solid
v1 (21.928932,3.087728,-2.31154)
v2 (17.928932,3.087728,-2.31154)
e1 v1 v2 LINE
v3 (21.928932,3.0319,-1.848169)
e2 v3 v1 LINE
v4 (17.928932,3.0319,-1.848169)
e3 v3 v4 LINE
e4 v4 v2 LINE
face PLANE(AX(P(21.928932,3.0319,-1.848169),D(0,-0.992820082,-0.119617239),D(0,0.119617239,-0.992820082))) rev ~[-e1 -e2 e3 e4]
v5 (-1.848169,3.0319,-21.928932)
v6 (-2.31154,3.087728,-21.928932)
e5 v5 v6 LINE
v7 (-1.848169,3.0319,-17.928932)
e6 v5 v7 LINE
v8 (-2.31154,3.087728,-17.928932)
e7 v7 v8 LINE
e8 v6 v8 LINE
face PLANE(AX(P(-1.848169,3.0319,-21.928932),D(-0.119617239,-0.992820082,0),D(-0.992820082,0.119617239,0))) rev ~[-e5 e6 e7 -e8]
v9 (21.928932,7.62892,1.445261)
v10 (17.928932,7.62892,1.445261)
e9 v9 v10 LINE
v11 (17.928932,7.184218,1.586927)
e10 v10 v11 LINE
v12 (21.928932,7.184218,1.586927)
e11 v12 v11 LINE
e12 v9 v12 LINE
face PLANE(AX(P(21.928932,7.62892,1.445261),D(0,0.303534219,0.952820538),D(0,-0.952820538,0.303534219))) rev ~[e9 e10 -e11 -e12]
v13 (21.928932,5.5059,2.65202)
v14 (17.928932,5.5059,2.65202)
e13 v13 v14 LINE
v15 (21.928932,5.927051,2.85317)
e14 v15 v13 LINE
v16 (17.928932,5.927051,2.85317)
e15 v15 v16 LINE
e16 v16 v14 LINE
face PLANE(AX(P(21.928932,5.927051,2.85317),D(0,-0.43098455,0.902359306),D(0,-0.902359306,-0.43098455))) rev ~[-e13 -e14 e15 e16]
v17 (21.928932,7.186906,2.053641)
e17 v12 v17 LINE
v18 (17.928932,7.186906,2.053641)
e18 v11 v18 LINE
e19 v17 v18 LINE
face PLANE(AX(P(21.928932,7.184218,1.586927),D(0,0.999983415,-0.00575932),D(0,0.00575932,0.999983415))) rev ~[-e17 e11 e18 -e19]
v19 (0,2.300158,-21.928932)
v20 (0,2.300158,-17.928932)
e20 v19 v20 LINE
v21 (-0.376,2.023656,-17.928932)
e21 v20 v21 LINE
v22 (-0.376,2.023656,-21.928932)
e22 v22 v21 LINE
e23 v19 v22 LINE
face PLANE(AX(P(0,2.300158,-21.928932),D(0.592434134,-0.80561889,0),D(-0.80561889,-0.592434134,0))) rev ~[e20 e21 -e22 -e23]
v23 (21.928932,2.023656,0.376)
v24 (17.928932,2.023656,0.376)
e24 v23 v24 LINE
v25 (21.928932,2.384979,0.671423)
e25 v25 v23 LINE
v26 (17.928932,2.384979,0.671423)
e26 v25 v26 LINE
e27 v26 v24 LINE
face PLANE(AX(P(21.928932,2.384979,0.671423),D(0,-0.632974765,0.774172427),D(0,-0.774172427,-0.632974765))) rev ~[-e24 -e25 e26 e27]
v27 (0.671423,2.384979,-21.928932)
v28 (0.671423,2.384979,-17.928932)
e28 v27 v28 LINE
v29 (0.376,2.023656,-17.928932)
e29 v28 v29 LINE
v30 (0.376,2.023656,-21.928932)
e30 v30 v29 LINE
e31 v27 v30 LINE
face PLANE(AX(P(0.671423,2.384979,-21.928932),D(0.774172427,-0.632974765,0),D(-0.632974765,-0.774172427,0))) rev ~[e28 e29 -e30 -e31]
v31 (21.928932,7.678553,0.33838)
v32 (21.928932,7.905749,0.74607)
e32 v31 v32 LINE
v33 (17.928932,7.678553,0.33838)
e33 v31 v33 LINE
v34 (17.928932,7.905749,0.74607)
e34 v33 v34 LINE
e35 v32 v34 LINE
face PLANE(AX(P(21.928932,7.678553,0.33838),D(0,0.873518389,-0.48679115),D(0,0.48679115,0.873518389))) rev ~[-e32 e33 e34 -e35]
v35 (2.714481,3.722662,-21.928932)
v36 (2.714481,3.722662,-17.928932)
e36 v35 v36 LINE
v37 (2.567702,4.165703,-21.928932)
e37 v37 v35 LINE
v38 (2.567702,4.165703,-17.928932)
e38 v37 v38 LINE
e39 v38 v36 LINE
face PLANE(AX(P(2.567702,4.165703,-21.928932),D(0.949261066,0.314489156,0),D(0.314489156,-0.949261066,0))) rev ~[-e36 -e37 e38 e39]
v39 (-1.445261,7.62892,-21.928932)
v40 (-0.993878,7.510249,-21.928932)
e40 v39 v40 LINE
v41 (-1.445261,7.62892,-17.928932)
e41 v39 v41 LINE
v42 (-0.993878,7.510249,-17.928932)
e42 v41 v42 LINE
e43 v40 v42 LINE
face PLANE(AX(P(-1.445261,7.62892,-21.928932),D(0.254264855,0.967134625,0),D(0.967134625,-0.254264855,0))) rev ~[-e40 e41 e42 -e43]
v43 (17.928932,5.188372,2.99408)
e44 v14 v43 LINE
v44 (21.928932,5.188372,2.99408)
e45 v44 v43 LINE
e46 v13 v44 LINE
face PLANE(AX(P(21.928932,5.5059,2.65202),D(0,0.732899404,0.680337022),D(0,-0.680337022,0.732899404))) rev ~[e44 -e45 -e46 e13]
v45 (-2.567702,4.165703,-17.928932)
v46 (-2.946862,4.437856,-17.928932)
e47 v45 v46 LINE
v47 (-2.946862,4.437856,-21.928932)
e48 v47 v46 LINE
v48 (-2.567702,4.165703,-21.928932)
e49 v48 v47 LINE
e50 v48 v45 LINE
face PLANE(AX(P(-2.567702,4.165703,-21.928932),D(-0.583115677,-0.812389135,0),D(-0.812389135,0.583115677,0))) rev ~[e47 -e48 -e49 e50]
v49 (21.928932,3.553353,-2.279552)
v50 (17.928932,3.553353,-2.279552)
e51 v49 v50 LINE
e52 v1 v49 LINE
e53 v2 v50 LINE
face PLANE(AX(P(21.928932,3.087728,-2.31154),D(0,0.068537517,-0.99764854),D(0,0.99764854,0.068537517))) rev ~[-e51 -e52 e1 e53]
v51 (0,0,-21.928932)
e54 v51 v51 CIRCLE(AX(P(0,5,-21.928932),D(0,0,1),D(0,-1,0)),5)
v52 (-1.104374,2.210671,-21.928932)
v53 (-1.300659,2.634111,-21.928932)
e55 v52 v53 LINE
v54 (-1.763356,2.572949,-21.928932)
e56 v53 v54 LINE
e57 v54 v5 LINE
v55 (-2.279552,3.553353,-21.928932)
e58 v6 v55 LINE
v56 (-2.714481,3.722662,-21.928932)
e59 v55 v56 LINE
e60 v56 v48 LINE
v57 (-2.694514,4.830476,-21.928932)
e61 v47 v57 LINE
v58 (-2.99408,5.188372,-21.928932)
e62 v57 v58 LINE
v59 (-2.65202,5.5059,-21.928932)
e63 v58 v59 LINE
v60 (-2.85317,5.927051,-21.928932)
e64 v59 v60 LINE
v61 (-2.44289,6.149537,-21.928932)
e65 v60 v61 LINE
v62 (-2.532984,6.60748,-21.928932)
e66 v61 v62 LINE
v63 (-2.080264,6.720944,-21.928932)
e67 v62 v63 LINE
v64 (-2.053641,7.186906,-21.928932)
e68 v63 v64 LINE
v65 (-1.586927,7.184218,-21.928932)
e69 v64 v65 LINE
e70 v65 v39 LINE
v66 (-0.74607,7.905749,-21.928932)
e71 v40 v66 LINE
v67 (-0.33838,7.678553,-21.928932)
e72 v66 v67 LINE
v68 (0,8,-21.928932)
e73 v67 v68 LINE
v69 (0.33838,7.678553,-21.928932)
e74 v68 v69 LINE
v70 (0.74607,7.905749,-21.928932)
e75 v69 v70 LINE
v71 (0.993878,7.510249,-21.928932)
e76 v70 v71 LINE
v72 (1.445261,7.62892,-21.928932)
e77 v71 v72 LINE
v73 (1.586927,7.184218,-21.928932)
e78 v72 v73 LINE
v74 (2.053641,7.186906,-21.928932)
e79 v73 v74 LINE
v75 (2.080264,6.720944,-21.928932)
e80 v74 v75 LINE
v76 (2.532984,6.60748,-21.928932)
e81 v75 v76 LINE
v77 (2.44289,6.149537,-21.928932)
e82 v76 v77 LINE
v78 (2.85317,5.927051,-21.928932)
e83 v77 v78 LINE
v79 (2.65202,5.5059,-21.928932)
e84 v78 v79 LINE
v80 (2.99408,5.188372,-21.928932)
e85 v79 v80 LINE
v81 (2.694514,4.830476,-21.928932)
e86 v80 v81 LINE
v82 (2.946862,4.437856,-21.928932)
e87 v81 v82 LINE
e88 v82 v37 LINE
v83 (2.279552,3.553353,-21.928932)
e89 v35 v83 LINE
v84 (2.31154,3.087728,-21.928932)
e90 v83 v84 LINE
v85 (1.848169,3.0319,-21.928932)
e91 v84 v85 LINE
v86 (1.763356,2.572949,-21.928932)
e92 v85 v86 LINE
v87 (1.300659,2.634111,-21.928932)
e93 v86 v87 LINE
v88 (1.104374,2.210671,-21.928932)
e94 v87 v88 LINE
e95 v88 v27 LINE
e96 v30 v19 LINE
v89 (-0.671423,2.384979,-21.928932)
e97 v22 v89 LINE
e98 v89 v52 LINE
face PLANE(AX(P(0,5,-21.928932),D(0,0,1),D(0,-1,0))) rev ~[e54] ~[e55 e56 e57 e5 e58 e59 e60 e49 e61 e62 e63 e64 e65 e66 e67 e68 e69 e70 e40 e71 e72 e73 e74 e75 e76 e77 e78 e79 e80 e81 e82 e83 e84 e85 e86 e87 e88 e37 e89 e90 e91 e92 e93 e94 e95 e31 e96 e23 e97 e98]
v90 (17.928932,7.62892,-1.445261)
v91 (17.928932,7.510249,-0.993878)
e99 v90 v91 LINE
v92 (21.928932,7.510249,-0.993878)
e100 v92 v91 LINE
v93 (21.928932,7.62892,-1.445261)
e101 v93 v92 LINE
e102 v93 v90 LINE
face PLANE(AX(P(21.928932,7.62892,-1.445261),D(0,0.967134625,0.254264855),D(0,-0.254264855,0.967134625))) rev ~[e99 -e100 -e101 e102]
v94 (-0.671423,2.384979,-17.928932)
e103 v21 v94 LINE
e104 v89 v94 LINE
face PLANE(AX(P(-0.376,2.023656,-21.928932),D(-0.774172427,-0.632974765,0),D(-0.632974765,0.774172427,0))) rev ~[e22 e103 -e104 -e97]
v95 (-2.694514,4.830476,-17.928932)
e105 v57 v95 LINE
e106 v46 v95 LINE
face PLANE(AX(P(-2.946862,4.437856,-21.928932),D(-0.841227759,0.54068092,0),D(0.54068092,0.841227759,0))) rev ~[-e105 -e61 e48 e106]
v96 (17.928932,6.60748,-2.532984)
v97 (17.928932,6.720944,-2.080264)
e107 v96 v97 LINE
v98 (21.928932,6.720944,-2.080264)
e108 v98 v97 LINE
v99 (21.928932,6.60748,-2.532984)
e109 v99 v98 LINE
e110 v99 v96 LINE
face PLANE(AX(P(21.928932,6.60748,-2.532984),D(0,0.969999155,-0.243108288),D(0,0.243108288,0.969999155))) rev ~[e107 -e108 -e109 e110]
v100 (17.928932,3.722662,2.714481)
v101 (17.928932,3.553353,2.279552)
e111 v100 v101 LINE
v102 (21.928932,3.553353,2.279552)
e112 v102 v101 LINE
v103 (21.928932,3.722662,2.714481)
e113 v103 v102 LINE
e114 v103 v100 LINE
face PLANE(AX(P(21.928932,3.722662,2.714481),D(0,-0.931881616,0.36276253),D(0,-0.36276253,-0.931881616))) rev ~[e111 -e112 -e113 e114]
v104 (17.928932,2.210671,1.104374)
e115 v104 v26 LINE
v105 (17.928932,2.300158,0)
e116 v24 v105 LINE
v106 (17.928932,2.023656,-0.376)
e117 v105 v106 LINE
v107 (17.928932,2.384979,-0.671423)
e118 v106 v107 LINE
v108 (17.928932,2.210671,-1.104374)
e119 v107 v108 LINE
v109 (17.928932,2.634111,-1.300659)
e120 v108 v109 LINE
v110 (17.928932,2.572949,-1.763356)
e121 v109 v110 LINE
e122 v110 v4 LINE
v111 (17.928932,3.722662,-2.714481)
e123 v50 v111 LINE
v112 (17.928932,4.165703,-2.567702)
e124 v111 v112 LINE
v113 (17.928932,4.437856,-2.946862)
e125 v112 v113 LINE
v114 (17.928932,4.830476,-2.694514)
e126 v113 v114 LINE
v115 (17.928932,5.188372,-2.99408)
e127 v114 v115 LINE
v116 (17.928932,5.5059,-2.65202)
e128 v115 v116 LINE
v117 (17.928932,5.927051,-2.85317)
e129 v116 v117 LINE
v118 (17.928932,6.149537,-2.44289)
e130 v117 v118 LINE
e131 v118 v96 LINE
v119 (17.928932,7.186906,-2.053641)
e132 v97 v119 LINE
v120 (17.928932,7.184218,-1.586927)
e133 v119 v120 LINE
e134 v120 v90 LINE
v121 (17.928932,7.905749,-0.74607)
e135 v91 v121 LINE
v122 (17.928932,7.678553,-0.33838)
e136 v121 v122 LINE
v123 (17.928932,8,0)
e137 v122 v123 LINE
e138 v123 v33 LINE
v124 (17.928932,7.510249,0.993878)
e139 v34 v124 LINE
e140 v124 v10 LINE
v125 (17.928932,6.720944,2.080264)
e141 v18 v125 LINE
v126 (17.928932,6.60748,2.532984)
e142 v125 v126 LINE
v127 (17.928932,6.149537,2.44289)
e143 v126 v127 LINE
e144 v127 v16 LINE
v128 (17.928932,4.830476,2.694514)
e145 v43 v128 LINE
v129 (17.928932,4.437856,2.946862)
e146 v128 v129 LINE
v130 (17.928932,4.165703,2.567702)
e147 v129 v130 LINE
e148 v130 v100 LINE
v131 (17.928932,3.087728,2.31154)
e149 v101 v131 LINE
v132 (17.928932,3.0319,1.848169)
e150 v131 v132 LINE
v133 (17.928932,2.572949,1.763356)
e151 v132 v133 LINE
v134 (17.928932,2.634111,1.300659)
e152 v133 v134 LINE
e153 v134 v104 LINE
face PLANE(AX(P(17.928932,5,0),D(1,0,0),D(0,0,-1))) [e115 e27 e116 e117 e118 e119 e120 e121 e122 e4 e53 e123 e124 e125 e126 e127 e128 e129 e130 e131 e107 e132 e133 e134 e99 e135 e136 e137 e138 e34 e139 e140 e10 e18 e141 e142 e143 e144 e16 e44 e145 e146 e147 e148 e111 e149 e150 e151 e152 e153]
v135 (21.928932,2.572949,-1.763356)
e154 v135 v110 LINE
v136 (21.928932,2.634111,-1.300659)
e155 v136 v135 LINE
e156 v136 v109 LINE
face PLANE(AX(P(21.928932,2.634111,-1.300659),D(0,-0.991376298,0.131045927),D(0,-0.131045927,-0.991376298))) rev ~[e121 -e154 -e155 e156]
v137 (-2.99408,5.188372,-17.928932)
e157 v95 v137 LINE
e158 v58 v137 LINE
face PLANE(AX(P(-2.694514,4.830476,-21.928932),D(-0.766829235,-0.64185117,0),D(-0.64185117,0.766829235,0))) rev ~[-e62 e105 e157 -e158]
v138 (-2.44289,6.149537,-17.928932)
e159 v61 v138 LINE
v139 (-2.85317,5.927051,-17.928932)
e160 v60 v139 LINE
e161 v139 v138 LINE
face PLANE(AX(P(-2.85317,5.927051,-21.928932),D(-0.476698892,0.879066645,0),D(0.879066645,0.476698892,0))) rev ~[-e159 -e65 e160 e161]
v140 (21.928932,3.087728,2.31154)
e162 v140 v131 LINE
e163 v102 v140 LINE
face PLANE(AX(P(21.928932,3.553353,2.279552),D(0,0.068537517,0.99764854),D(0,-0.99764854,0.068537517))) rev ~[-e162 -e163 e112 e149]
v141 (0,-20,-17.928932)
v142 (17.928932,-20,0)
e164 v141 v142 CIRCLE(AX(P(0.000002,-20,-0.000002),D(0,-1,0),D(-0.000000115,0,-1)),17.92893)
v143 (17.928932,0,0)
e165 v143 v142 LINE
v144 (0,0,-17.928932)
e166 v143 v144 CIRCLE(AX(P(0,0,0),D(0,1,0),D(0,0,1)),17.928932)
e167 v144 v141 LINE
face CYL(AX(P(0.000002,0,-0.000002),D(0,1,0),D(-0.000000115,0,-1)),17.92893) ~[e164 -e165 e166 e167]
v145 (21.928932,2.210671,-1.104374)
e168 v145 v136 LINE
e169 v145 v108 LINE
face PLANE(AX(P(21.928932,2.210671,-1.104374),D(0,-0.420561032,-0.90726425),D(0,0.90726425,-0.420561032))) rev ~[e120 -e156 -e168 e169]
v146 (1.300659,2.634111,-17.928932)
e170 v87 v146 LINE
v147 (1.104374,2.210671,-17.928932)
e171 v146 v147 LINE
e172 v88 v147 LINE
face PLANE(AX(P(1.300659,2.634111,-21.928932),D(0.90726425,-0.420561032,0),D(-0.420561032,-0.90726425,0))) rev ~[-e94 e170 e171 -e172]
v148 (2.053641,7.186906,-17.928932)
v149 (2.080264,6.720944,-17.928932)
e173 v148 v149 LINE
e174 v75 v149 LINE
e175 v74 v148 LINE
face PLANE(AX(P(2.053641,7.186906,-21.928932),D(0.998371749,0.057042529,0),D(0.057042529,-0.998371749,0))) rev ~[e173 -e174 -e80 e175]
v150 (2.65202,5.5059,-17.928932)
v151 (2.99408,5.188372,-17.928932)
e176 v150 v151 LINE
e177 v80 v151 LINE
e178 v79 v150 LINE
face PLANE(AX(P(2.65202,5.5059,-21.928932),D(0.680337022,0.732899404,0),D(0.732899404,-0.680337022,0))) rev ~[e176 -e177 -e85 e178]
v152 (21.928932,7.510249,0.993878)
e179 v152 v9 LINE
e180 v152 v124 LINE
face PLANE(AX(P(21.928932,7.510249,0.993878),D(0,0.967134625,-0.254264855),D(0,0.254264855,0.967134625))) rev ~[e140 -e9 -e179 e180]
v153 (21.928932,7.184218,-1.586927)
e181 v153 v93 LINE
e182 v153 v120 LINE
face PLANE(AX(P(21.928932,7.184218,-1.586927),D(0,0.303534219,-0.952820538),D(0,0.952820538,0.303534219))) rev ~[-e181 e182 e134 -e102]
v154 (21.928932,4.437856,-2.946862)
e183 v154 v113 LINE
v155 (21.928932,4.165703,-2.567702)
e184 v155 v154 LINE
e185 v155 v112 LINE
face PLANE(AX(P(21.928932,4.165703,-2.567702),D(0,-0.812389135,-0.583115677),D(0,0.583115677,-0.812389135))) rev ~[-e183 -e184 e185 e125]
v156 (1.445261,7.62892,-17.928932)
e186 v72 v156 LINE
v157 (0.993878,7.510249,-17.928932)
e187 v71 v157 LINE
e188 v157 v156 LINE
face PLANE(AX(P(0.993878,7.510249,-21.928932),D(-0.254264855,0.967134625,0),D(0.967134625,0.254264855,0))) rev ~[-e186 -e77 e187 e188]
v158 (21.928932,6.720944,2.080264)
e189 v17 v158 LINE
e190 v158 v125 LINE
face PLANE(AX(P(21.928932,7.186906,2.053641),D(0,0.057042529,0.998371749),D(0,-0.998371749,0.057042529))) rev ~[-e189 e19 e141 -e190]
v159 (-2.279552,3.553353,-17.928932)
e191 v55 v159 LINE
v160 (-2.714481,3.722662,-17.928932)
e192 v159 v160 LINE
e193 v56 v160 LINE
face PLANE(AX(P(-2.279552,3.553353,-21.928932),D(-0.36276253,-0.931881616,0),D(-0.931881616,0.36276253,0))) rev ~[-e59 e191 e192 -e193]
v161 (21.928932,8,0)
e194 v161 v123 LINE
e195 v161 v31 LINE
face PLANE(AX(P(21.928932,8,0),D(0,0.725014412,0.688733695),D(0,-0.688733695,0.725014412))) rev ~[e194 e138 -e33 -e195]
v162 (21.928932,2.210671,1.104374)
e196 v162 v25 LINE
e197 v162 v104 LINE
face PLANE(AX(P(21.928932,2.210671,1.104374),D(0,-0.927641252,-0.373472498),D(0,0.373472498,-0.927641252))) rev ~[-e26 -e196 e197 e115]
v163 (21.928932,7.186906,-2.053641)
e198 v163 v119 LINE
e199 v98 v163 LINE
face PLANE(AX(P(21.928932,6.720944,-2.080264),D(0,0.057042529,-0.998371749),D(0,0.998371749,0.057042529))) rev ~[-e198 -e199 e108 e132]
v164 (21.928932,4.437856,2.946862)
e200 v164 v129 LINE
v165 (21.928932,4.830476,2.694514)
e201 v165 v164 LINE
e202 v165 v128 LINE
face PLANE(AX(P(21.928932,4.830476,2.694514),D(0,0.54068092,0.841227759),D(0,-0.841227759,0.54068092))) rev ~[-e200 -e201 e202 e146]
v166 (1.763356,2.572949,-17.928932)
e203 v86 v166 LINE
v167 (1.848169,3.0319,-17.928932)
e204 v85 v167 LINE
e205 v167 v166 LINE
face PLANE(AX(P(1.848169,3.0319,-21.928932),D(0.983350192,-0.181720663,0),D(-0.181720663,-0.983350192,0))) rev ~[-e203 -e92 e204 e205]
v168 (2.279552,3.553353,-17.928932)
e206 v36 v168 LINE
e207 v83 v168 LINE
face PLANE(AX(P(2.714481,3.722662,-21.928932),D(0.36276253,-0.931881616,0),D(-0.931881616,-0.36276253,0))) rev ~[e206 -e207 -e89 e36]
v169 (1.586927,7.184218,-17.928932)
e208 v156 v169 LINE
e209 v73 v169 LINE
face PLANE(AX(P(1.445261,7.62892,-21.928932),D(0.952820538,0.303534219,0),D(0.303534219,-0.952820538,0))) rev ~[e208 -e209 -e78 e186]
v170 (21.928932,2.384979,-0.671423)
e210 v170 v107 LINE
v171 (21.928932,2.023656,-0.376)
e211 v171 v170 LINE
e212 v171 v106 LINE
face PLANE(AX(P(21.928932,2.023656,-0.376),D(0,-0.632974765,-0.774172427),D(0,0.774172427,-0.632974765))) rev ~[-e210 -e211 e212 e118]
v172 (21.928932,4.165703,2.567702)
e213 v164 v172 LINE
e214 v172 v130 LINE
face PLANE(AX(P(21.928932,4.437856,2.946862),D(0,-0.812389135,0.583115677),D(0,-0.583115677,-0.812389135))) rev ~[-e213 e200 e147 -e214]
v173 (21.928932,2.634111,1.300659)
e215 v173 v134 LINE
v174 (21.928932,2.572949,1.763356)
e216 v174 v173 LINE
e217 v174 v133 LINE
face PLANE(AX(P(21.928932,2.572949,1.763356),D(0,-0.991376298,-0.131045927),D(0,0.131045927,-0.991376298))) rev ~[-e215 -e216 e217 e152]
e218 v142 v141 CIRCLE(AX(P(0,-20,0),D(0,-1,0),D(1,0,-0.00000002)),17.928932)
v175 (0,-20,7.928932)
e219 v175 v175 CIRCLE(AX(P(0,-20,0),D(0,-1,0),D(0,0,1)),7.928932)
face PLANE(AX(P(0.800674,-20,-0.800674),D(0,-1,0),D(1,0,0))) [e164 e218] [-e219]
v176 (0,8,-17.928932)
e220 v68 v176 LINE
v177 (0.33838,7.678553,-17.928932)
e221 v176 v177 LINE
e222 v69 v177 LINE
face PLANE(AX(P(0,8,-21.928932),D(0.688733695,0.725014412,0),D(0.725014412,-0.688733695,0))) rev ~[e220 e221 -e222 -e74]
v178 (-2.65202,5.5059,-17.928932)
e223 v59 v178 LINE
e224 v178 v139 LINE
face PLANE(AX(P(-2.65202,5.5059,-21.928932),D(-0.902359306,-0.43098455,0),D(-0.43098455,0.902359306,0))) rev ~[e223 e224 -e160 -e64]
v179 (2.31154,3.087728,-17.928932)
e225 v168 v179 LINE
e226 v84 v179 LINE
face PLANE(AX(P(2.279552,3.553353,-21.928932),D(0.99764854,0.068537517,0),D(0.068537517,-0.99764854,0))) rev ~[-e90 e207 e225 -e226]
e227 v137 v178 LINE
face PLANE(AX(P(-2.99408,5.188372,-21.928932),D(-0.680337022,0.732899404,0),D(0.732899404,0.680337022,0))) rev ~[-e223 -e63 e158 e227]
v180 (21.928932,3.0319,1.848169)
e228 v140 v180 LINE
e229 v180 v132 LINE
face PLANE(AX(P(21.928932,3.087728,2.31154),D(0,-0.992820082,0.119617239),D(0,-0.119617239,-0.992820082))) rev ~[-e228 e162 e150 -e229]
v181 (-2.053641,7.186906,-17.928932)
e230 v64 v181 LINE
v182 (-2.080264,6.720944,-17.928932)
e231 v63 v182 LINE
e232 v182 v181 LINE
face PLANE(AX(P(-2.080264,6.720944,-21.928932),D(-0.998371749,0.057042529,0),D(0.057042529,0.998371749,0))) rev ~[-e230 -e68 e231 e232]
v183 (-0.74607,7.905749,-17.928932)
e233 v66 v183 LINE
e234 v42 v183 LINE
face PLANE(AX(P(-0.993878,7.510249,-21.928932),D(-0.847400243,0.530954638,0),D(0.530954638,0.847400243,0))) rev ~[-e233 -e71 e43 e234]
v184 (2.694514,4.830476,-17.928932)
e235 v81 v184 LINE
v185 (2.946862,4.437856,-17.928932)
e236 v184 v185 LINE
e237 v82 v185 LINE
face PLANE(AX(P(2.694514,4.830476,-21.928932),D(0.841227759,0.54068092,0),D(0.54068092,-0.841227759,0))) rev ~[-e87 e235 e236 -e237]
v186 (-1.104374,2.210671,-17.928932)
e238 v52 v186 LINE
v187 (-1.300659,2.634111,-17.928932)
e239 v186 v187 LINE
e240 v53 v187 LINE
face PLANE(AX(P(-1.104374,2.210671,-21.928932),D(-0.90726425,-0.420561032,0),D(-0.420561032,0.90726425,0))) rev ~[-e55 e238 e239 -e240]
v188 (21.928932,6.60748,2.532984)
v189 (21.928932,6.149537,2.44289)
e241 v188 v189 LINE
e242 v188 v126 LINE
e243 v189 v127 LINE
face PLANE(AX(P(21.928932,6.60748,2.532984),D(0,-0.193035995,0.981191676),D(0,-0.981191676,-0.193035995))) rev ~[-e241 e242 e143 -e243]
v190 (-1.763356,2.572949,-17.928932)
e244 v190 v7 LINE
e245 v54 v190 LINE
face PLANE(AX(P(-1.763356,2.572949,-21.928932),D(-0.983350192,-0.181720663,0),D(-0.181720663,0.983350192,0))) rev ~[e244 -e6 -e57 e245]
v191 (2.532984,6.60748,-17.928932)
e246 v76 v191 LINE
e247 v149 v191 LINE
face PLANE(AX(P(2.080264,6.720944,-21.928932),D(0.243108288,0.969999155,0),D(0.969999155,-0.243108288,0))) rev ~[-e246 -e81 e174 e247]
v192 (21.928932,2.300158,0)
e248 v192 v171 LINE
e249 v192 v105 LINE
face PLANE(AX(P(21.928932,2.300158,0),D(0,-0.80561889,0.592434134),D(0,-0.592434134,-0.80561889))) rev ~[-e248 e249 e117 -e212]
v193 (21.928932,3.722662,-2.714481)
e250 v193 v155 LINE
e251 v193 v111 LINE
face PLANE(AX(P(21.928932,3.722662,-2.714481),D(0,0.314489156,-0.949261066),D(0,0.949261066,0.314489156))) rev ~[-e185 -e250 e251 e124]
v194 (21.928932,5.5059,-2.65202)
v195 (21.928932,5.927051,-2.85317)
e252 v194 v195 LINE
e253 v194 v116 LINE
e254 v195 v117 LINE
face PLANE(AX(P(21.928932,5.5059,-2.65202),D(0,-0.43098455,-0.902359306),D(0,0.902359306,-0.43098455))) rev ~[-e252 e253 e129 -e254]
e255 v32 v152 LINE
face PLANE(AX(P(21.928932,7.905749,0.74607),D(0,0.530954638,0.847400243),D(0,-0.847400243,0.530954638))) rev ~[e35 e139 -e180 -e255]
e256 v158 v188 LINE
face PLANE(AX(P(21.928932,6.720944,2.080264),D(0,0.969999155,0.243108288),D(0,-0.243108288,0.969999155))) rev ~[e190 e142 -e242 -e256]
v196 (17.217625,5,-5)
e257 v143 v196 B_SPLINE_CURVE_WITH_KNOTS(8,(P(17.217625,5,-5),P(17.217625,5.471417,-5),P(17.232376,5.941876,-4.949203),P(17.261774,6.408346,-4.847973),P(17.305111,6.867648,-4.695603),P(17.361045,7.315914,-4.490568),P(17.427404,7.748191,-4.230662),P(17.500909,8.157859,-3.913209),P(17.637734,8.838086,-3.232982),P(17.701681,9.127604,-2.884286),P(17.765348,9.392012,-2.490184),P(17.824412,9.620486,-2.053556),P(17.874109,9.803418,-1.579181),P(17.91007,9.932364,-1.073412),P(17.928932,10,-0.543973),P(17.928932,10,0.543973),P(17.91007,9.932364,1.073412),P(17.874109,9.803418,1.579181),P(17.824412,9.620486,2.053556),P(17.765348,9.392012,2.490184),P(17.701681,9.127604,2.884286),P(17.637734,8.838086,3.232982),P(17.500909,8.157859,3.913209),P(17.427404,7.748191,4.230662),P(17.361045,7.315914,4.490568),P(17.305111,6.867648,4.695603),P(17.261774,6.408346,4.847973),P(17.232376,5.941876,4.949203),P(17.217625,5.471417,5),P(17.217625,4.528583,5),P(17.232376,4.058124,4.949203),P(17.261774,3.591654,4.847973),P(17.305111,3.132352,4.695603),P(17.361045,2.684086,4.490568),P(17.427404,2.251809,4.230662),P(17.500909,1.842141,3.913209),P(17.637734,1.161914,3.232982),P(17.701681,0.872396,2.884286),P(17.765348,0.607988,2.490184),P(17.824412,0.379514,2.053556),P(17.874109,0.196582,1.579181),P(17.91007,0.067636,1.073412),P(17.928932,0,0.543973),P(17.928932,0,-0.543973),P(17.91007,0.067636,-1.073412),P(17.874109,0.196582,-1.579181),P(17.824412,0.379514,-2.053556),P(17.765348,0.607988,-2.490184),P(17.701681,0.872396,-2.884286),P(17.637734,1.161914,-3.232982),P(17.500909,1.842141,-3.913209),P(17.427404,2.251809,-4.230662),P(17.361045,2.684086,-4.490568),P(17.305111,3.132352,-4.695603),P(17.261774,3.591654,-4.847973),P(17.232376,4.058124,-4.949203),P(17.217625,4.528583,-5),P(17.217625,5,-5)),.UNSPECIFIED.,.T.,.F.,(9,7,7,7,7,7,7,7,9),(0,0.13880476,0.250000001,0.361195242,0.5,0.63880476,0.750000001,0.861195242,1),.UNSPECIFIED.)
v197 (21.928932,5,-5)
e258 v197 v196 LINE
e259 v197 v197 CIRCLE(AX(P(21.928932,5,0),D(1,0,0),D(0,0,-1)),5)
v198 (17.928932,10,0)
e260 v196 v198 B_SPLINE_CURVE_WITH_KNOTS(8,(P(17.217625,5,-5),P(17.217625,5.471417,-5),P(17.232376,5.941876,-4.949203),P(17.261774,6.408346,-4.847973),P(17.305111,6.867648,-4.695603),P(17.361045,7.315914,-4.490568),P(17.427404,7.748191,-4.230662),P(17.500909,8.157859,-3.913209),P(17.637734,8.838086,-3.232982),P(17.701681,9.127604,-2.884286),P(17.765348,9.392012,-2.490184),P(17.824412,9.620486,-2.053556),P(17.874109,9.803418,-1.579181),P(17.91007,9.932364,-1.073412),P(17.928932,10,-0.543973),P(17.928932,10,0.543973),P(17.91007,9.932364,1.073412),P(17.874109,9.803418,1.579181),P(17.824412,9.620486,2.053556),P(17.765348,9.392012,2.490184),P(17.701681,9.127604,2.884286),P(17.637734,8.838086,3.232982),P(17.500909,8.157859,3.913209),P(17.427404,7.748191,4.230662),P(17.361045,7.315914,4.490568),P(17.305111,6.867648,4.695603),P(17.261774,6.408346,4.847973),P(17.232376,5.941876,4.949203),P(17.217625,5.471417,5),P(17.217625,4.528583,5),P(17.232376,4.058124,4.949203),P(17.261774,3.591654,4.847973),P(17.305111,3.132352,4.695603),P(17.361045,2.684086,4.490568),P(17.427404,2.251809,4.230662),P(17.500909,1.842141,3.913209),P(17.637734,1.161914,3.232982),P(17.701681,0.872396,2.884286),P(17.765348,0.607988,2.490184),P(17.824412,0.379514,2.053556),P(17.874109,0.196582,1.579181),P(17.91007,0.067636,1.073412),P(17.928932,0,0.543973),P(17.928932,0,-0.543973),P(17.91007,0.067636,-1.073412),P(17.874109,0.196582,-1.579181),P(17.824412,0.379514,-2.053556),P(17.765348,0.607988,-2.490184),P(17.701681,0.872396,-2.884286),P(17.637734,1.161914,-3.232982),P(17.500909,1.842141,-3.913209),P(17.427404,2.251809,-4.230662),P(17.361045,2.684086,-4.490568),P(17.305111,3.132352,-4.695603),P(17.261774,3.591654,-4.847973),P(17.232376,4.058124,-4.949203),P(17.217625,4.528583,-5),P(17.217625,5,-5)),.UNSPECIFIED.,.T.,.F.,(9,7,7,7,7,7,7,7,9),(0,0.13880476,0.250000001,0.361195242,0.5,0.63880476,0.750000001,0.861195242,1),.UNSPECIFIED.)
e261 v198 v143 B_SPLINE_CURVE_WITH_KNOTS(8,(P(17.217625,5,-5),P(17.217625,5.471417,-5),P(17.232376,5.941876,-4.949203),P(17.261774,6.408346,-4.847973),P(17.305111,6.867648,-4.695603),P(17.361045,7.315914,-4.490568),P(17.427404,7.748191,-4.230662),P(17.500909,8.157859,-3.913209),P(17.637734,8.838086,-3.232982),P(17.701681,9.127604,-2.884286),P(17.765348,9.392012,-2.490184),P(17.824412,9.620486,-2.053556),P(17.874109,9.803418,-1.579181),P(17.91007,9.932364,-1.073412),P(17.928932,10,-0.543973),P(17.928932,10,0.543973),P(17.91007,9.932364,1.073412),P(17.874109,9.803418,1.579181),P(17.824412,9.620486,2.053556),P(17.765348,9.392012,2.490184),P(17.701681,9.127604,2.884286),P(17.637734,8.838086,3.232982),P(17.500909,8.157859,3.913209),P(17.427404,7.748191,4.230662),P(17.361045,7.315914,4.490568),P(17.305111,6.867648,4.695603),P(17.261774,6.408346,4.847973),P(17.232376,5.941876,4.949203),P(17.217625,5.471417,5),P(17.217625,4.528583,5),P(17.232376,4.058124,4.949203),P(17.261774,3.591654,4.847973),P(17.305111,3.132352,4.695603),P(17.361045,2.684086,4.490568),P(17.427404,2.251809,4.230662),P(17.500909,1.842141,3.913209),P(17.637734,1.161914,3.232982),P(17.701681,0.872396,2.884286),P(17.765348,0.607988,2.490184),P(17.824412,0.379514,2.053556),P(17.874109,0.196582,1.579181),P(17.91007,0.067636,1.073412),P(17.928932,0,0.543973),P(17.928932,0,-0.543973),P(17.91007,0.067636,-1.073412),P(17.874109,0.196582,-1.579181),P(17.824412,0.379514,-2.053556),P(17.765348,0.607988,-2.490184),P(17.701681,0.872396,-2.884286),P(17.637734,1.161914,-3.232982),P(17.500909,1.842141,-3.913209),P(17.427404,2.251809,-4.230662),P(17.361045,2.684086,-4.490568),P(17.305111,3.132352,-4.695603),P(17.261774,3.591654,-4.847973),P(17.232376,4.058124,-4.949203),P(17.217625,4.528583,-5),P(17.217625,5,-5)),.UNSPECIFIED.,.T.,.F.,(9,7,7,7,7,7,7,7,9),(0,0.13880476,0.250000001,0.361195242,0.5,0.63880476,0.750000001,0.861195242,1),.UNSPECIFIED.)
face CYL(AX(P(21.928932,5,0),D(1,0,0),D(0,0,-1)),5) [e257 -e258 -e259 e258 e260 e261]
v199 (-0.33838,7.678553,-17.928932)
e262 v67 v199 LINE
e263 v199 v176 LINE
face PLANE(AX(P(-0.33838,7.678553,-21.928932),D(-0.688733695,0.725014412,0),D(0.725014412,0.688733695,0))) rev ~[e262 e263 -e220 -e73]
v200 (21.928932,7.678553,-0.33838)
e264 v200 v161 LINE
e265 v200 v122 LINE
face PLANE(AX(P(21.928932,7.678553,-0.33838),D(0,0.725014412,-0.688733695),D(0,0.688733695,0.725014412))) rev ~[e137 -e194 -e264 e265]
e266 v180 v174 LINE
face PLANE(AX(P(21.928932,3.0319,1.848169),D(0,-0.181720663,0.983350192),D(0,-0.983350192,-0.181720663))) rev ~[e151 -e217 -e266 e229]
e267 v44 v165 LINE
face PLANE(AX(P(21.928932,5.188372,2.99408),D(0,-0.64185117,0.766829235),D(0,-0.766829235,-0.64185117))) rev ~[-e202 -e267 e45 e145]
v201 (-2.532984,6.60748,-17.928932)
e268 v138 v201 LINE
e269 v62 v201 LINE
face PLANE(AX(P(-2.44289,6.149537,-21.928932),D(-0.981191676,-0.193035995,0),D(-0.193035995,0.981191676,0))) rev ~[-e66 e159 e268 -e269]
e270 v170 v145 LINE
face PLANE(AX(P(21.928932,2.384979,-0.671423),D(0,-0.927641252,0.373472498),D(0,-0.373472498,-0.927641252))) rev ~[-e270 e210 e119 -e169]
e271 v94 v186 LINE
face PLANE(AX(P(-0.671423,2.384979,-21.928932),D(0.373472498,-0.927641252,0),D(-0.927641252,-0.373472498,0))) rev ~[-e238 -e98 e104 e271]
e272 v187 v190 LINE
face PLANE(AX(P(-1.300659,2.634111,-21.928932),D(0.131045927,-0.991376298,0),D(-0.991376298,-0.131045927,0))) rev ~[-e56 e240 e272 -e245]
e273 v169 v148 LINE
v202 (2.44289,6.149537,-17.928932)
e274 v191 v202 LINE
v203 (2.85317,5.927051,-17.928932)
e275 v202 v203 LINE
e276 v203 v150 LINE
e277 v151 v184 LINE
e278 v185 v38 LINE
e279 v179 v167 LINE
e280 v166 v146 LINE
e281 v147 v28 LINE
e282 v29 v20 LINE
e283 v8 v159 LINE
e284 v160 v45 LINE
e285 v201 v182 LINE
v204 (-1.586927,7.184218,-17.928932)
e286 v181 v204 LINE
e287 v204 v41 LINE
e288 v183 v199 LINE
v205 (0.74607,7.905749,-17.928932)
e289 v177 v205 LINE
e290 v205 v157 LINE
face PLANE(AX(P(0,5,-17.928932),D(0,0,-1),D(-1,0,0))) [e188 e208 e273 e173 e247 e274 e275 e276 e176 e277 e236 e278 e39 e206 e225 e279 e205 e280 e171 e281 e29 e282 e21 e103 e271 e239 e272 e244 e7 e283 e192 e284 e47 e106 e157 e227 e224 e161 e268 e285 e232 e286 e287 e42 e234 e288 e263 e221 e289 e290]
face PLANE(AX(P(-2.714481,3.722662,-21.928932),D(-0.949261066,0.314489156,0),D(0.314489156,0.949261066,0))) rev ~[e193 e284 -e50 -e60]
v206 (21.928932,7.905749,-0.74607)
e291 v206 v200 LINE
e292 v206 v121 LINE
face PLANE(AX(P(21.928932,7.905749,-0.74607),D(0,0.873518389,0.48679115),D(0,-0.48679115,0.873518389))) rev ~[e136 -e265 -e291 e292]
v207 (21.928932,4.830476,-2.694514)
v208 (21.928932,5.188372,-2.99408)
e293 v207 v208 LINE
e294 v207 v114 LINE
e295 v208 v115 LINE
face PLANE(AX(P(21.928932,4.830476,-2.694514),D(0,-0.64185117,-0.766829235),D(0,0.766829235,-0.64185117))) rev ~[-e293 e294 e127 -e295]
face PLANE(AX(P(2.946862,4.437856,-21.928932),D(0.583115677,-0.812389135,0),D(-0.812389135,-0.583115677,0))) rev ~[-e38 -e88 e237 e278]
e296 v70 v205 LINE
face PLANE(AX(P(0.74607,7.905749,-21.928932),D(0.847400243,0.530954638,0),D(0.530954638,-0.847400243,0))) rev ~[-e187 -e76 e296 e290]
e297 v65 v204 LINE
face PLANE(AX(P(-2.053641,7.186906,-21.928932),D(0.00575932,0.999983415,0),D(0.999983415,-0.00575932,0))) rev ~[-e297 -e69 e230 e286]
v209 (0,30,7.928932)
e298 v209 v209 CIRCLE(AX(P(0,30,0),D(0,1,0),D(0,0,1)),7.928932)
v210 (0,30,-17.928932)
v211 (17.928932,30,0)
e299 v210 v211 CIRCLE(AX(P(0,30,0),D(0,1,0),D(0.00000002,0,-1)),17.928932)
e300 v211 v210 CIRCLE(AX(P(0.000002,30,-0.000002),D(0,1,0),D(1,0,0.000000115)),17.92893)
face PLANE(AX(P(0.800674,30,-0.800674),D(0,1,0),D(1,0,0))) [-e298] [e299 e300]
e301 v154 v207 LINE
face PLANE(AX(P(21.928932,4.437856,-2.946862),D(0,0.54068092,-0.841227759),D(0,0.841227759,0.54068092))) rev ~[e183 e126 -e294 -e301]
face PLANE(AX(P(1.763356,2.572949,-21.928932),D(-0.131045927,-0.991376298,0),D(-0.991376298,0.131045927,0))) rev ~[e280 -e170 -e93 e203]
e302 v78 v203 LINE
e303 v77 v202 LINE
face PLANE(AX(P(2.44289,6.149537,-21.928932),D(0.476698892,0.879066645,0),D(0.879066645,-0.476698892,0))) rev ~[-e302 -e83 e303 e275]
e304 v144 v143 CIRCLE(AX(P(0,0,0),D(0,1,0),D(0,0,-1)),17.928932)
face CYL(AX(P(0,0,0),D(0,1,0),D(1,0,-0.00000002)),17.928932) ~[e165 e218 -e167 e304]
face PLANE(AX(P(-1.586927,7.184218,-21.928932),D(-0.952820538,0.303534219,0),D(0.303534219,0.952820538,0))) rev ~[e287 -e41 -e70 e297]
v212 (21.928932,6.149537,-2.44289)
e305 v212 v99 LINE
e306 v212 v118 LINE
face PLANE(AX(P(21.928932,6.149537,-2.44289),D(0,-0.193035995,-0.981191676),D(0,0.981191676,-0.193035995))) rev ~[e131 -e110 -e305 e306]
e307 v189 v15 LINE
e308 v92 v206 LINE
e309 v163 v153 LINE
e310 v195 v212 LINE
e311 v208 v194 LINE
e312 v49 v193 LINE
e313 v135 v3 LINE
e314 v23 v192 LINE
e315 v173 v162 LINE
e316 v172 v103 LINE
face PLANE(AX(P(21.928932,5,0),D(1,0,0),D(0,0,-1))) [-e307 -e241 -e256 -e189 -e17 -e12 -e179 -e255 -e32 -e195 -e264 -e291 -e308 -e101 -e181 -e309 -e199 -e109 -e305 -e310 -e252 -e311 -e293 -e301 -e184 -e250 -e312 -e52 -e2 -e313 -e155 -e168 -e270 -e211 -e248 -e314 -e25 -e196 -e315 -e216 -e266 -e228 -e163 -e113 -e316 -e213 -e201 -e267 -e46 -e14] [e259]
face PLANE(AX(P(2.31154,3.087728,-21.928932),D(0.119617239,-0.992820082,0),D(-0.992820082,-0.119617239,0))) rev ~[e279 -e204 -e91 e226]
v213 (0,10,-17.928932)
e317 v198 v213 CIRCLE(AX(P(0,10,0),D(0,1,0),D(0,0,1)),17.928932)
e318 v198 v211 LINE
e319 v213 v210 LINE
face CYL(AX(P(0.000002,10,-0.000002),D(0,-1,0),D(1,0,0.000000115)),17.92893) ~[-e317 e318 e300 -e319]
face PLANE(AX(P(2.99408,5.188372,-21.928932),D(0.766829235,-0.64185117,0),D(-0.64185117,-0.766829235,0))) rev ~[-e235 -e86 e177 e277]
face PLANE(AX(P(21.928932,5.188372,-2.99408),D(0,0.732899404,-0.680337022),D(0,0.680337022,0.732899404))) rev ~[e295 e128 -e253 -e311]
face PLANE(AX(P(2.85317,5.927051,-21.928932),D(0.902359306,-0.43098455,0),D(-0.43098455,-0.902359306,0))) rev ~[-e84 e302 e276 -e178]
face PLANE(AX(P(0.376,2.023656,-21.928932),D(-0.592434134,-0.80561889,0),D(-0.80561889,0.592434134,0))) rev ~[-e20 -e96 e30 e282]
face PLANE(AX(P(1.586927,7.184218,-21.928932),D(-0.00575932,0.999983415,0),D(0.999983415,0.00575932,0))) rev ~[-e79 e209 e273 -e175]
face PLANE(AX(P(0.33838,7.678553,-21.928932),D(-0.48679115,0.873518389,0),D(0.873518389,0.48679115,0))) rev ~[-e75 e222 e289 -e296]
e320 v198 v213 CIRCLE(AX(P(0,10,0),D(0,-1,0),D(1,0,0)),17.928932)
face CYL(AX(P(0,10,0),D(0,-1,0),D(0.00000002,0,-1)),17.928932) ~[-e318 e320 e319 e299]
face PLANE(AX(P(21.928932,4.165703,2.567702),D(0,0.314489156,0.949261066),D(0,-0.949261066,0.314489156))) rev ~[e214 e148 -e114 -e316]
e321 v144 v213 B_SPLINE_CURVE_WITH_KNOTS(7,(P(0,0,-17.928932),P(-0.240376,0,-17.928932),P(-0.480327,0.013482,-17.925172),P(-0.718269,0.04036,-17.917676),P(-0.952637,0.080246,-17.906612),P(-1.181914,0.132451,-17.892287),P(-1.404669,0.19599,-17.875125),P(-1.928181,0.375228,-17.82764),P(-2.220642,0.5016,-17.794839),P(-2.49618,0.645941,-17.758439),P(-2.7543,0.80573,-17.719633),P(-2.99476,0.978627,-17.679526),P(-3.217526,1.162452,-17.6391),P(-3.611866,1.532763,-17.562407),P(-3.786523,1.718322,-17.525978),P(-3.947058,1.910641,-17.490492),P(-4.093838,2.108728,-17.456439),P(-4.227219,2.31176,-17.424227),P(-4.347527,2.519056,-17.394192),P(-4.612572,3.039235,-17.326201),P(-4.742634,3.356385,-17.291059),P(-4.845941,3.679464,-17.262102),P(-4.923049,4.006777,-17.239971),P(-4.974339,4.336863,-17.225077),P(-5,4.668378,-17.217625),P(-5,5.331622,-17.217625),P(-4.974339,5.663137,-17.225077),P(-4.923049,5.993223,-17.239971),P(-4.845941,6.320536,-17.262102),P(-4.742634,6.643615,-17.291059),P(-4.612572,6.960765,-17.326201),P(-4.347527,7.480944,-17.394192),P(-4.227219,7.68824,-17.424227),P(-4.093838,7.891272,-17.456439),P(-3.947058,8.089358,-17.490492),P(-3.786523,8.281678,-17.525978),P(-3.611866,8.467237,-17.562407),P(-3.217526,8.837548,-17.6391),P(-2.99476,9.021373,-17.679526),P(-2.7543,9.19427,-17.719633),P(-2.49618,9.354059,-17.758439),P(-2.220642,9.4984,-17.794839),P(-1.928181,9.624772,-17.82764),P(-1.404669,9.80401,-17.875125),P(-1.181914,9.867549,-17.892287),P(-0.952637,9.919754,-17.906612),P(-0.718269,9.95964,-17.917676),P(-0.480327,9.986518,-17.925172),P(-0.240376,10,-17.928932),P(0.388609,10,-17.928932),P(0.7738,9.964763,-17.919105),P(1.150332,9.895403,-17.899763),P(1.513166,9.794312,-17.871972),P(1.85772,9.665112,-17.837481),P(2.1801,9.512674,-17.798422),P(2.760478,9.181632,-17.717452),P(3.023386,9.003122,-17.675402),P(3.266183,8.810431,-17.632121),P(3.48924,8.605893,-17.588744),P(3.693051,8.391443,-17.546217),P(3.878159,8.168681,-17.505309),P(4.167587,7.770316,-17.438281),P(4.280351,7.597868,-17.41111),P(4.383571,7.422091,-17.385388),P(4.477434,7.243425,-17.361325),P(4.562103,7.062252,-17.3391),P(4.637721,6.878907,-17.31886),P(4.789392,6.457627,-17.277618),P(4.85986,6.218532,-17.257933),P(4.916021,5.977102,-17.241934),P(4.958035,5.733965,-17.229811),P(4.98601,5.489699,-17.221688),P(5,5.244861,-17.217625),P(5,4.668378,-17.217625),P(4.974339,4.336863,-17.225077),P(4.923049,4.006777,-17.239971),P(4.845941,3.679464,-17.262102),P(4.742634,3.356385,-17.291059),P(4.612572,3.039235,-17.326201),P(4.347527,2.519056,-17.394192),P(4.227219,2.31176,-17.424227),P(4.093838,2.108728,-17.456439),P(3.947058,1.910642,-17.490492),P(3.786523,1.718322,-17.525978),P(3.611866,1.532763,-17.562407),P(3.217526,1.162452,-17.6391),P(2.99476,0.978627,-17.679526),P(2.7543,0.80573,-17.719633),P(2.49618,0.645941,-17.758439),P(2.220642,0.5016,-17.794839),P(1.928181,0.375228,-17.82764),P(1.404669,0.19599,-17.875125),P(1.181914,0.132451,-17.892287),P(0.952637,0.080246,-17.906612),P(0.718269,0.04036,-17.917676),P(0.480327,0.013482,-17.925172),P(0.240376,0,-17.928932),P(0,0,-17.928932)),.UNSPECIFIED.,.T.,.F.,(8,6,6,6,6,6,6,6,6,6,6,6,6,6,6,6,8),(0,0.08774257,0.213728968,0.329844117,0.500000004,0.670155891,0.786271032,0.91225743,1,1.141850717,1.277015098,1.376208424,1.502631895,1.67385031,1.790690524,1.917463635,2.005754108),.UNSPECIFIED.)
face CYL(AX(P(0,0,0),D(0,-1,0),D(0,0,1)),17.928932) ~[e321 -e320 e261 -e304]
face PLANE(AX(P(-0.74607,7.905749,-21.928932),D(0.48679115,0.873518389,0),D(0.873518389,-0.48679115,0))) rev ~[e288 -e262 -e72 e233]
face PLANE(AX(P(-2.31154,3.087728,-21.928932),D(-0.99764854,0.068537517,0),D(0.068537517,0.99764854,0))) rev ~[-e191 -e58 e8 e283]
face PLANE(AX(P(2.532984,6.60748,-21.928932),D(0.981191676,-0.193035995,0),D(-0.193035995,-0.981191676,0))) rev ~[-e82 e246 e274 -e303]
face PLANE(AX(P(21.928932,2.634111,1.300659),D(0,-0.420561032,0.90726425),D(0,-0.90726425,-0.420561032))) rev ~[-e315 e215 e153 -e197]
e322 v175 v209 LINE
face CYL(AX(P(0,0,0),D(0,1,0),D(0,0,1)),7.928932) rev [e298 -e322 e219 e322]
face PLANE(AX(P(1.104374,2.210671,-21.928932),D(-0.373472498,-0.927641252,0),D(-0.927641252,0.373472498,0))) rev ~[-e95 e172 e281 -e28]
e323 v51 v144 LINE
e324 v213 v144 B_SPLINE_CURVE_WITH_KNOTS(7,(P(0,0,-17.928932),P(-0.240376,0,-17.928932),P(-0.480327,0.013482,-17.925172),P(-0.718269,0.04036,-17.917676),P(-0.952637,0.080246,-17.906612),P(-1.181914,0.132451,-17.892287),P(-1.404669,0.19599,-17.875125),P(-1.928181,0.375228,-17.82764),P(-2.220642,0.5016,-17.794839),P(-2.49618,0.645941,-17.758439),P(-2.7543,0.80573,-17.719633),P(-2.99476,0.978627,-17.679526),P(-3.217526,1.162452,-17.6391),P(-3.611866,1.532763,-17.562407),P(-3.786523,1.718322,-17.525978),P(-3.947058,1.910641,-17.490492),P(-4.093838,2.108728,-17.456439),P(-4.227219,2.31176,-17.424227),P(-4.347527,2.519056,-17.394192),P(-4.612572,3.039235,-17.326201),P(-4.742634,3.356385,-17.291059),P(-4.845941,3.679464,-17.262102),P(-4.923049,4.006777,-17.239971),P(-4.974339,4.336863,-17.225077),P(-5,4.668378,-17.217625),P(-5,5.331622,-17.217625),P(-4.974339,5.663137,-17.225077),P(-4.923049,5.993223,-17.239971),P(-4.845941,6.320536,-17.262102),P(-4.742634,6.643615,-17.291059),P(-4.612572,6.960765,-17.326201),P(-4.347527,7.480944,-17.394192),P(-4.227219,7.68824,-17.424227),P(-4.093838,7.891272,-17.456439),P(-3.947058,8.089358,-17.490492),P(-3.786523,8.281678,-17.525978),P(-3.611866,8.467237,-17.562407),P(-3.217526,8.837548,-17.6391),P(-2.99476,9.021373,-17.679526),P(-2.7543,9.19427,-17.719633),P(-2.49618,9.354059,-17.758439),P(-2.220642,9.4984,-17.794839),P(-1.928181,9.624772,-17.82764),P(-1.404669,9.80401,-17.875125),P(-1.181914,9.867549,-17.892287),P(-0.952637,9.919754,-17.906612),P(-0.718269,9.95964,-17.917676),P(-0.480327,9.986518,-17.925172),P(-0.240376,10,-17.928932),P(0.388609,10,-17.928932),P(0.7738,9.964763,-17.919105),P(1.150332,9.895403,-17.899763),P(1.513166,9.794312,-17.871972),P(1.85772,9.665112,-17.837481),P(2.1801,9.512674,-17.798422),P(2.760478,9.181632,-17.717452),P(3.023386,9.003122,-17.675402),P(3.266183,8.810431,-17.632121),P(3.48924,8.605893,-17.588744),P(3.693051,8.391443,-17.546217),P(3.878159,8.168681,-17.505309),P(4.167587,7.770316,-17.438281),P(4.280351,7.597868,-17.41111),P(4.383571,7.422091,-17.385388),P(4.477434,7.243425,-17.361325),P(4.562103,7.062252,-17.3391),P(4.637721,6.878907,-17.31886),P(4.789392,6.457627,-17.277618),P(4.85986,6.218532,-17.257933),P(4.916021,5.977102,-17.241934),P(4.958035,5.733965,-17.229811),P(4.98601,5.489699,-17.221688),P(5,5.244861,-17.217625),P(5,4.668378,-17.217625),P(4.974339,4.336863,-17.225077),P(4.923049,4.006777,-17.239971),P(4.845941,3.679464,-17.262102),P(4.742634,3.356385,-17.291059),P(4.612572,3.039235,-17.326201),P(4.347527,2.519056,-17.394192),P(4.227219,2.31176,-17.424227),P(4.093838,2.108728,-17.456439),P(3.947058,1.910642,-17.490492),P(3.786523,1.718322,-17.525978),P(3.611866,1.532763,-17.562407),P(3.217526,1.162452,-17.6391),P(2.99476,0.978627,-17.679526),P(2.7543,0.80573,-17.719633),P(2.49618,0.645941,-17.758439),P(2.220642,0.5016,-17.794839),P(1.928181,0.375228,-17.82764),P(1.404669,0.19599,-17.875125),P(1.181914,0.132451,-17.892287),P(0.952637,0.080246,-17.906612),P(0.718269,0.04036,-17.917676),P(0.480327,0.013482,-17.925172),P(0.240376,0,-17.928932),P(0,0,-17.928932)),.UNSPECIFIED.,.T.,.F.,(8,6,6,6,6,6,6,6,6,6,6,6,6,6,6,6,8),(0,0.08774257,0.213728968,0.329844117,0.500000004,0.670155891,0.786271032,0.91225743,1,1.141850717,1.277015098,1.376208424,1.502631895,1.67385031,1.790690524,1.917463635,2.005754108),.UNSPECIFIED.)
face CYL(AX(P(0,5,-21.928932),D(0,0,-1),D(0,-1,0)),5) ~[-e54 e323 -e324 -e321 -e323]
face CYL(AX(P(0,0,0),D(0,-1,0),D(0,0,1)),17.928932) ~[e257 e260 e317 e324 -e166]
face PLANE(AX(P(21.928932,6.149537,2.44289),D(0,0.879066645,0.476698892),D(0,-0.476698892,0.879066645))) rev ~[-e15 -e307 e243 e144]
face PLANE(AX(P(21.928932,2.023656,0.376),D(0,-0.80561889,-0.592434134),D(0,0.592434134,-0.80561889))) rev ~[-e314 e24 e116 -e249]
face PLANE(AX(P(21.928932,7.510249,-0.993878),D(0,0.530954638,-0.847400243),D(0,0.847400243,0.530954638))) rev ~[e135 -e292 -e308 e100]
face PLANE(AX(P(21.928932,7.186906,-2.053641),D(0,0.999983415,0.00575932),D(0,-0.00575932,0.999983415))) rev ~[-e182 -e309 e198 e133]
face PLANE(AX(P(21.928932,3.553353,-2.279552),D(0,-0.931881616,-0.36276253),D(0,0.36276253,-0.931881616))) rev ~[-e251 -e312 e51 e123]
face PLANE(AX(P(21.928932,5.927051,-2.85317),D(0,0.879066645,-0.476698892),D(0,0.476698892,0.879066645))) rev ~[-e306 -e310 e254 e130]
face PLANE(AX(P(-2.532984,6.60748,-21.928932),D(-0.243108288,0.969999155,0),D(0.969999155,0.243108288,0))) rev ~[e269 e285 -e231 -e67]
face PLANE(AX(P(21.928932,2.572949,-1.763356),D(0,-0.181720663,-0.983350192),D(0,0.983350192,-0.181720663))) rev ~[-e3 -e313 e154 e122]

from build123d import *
from build123d.topology import SkipClean

# Parameters (mm, degrees)
SKETCH1_R                = 17.928932
BOSS_EXTRUDE1_DEPTH      = 10
SKETCH2_R                = 7.928932
CUT_EXTRUDE1_DEPTH       = 28.256068
BOSS_EXTRUDE2_REACH      = 46.834
BOSS_EXTRUDE2_END_RADIUS = 17.928932
SKETCH4_R                = 5
BOSS_EXTRUDE5_REACH      = 48.578
BOSS_EXTRUDE5_END_RADIUS = 17.928932
SKETCH11_R               = 5
CUT_EXTRUDE5_DEPTH       = 4
CIRPATTERN1_COUNT        = 2
CIRPATTERN1_ANGLE        = 270
SKETCH21_R               = 7.928932
BOSS_EXTRUDE6_DEPTH      = 20
SKETCH22_R               = 7.928932
BOSS_EXTRUDE7_DEPTH      = 20


with BuildPart() as part:
    # Sketch1 → Boss-Extrude1 (new body)
    with BuildSketch(Plane(origin=(0, 0, 0), x_dir=(1, 0, 0), z_dir=(0, 1, 0))):
        with Locations(Location((0, 0, 0), (0, 0, 270))):
            Circle(SKETCH1_R)
    extrude(amount=BOSS_EXTRUDE1_DEPTH)

    # Sketch2 → Cut-Extrude1 (cut, through all)
    with BuildSketch(Plane(origin=(0, 10, 0), x_dir=(1, 0, 0), z_dir=(0, 1, 0))):
        with Locations(Location((0, 0, 0), (0, 0, 270))):
            Circle(SKETCH2_R)
    extrude(amount=-CUT_EXTRUDE1_DEPTH, mode=Mode.SUBTRACT)

    # Boss-Extrude2: up to this cylinder (the profile starts outside it)
    with SkipClean():  # the faces are left unmerged after this step: merging them gives an invalid solid
        boss_extrude2_end = Plane(origin=(0, 5, 0), z_dir=(0, -1, 0)) * Cylinder(BOSS_EXTRUDE2_END_RADIUS, 130.525864, mode=Mode.PRIVATE)
        # Sketch4 → Boss-Extrude2 (add, up to the surface)
        with BuildSketch(Plane(origin=(21.928932, 0, 0), x_dir=(0, 0, -1), z_dir=(1, 0, 0)), mode=Mode.PRIVATE) as boss_extrude2_sk1:
            with Locations((0, 5)):
                Circle(SKETCH4_R)
        boss_extrude2_tool1 = extrude(boss_extrude2_sk1.sketch, amount=-BOSS_EXTRUDE2_REACH, mode=Mode.PRIVATE) - boss_extrude2_end
        add(boss_extrude2_tool1.solids().sort_by_distance((21.928932, 5, 0))[0])

    # Boss-Extrude5: up to this cylinder (the profile starts outside it)
    boss_extrude5_end = Plane(origin=(0, 5, 0), z_dir=(0, -1, 0)) * Cylinder(BOSS_EXTRUDE5_END_RADIUS, 134.013864, mode=Mode.PRIVATE)
    # Sketch11 → Boss-Extrude5 (add, up to the surface)
    with BuildSketch(Plane.XY.offset(-21.928932), mode=Mode.PRIVATE) as boss_extrude5_sk1:
        with Locations(Location((0, 5, 0), (0, 0, 270))):
            Circle(SKETCH11_R)
    boss_extrude5_tool1 = extrude(boss_extrude5_sk1.sketch, amount=BOSS_EXTRUDE5_REACH, mode=Mode.PRIVATE) - boss_extrude5_end
    add(boss_extrude5_tool1.solids().sort_by_distance((0, 5, -21.928932))[0])

    # Sketch14 → Cut-Extrude5 (cut)
    with BuildSketch(Plane(origin=(0, 0, -21.928932), x_dir=(-1, 0, 0), z_dir=(0, 0, -1))):
        Polygon((0, 8), (-0.33838, 7.678553), (-0.74607, 7.905749), (-0.993878, 7.510249), (-1.445261, 7.62892), (-1.586927, 7.184218), (-2.053641, 7.186906), (-2.080264, 6.720944), (-2.532984, 6.60748), (-2.44289, 6.149537), (-2.85317, 5.927051), (-2.65202, 5.5059), (-2.99408, 5.188372), (-2.694514, 4.830476), (-2.946862, 4.437856), (-2.567702, 4.165703), (-2.714481, 3.722662), (-2.279552, 3.553353), (-2.31154, 3.087728), (-1.848169, 3.0319), (-1.763356, 2.572949), (-1.300659, 2.634111), (-1.104374, 2.210671), (-0.671423, 2.384979), (-0.376, 2.023656), (0, 2.300158), (0.376, 2.023656), (0.671423, 2.384979), (1.104374, 2.210671), (1.300659, 2.634111), (1.763356, 2.572949), (1.848169, 3.0319), (2.31154, 3.087728), (2.279552, 3.553353), (2.714481, 3.722662), (2.567702, 4.165703), (2.946862, 4.437856), (2.694514, 4.830476), (2.99408, 5.188372), (2.65202, 5.5059), (2.85317, 5.927051), (2.44289, 6.149537), (2.532984, 6.60748), (2.080264, 6.720944), (2.053641, 7.186906), (1.586927, 7.184218), (1.445261, 7.62892), (0.993878, 7.510249), (0.74607, 7.905749), (0.33838, 7.678553), align=None)
    cut_extrude5 = extrude(amount=-CUT_EXTRUDE5_DEPTH, mode=Mode.SUBTRACT)

    # CirPattern1: Cut-Extrude5 ×2 about axis
    cirpattern1_axis = Axis((0, 0, 0), (0, 1, 0))
    for i in range(1, CIRPATTERN1_COUNT):
        add(cut_extrude5.rotate(cirpattern1_axis, i * CIRPATTERN1_ANGLE / (CIRPATTERN1_COUNT - 1)), mode=Mode.SUBTRACT)

    # Sketch21 → Boss-Extrude6 (add)
    with BuildSketch(Plane(origin=(0, 10, 0), x_dir=(1, 0, 0), z_dir=(0, 1, 0))):
        with BuildLine():
            ThreePointArc((17.928932, 0), (12.67767, 12.67767), (0, 17.928932))
            ThreePointArc((0, 17.928932), (-12.67767, -12.67767), (17.928932, 0))
        make_face()
        with Locations(Location((0, 0, 0), (0, 0, 270))):
            Circle(SKETCH21_R, mode=Mode.SUBTRACT)
    extrude(amount=BOSS_EXTRUDE6_DEPTH)

    # Sketch22 → Boss-Extrude7 (add)
    with BuildSketch(Plane.XZ):
        with BuildLine():
            ThreePointArc((0, -17.928932), (12.67767, -12.67767), (17.928932, 0))
            ThreePointArc((17.928932, 0), (-12.67767, 12.67767), (0, -17.928932))
        make_face()
        with Locations(Location((0, 0, 0), (0, 0, 90))):
            Circle(SKETCH22_R, mode=Mode.SUBTRACT)
    extrude(amount=BOSS_EXTRUDE7_DEPTH)


solid = part.part
